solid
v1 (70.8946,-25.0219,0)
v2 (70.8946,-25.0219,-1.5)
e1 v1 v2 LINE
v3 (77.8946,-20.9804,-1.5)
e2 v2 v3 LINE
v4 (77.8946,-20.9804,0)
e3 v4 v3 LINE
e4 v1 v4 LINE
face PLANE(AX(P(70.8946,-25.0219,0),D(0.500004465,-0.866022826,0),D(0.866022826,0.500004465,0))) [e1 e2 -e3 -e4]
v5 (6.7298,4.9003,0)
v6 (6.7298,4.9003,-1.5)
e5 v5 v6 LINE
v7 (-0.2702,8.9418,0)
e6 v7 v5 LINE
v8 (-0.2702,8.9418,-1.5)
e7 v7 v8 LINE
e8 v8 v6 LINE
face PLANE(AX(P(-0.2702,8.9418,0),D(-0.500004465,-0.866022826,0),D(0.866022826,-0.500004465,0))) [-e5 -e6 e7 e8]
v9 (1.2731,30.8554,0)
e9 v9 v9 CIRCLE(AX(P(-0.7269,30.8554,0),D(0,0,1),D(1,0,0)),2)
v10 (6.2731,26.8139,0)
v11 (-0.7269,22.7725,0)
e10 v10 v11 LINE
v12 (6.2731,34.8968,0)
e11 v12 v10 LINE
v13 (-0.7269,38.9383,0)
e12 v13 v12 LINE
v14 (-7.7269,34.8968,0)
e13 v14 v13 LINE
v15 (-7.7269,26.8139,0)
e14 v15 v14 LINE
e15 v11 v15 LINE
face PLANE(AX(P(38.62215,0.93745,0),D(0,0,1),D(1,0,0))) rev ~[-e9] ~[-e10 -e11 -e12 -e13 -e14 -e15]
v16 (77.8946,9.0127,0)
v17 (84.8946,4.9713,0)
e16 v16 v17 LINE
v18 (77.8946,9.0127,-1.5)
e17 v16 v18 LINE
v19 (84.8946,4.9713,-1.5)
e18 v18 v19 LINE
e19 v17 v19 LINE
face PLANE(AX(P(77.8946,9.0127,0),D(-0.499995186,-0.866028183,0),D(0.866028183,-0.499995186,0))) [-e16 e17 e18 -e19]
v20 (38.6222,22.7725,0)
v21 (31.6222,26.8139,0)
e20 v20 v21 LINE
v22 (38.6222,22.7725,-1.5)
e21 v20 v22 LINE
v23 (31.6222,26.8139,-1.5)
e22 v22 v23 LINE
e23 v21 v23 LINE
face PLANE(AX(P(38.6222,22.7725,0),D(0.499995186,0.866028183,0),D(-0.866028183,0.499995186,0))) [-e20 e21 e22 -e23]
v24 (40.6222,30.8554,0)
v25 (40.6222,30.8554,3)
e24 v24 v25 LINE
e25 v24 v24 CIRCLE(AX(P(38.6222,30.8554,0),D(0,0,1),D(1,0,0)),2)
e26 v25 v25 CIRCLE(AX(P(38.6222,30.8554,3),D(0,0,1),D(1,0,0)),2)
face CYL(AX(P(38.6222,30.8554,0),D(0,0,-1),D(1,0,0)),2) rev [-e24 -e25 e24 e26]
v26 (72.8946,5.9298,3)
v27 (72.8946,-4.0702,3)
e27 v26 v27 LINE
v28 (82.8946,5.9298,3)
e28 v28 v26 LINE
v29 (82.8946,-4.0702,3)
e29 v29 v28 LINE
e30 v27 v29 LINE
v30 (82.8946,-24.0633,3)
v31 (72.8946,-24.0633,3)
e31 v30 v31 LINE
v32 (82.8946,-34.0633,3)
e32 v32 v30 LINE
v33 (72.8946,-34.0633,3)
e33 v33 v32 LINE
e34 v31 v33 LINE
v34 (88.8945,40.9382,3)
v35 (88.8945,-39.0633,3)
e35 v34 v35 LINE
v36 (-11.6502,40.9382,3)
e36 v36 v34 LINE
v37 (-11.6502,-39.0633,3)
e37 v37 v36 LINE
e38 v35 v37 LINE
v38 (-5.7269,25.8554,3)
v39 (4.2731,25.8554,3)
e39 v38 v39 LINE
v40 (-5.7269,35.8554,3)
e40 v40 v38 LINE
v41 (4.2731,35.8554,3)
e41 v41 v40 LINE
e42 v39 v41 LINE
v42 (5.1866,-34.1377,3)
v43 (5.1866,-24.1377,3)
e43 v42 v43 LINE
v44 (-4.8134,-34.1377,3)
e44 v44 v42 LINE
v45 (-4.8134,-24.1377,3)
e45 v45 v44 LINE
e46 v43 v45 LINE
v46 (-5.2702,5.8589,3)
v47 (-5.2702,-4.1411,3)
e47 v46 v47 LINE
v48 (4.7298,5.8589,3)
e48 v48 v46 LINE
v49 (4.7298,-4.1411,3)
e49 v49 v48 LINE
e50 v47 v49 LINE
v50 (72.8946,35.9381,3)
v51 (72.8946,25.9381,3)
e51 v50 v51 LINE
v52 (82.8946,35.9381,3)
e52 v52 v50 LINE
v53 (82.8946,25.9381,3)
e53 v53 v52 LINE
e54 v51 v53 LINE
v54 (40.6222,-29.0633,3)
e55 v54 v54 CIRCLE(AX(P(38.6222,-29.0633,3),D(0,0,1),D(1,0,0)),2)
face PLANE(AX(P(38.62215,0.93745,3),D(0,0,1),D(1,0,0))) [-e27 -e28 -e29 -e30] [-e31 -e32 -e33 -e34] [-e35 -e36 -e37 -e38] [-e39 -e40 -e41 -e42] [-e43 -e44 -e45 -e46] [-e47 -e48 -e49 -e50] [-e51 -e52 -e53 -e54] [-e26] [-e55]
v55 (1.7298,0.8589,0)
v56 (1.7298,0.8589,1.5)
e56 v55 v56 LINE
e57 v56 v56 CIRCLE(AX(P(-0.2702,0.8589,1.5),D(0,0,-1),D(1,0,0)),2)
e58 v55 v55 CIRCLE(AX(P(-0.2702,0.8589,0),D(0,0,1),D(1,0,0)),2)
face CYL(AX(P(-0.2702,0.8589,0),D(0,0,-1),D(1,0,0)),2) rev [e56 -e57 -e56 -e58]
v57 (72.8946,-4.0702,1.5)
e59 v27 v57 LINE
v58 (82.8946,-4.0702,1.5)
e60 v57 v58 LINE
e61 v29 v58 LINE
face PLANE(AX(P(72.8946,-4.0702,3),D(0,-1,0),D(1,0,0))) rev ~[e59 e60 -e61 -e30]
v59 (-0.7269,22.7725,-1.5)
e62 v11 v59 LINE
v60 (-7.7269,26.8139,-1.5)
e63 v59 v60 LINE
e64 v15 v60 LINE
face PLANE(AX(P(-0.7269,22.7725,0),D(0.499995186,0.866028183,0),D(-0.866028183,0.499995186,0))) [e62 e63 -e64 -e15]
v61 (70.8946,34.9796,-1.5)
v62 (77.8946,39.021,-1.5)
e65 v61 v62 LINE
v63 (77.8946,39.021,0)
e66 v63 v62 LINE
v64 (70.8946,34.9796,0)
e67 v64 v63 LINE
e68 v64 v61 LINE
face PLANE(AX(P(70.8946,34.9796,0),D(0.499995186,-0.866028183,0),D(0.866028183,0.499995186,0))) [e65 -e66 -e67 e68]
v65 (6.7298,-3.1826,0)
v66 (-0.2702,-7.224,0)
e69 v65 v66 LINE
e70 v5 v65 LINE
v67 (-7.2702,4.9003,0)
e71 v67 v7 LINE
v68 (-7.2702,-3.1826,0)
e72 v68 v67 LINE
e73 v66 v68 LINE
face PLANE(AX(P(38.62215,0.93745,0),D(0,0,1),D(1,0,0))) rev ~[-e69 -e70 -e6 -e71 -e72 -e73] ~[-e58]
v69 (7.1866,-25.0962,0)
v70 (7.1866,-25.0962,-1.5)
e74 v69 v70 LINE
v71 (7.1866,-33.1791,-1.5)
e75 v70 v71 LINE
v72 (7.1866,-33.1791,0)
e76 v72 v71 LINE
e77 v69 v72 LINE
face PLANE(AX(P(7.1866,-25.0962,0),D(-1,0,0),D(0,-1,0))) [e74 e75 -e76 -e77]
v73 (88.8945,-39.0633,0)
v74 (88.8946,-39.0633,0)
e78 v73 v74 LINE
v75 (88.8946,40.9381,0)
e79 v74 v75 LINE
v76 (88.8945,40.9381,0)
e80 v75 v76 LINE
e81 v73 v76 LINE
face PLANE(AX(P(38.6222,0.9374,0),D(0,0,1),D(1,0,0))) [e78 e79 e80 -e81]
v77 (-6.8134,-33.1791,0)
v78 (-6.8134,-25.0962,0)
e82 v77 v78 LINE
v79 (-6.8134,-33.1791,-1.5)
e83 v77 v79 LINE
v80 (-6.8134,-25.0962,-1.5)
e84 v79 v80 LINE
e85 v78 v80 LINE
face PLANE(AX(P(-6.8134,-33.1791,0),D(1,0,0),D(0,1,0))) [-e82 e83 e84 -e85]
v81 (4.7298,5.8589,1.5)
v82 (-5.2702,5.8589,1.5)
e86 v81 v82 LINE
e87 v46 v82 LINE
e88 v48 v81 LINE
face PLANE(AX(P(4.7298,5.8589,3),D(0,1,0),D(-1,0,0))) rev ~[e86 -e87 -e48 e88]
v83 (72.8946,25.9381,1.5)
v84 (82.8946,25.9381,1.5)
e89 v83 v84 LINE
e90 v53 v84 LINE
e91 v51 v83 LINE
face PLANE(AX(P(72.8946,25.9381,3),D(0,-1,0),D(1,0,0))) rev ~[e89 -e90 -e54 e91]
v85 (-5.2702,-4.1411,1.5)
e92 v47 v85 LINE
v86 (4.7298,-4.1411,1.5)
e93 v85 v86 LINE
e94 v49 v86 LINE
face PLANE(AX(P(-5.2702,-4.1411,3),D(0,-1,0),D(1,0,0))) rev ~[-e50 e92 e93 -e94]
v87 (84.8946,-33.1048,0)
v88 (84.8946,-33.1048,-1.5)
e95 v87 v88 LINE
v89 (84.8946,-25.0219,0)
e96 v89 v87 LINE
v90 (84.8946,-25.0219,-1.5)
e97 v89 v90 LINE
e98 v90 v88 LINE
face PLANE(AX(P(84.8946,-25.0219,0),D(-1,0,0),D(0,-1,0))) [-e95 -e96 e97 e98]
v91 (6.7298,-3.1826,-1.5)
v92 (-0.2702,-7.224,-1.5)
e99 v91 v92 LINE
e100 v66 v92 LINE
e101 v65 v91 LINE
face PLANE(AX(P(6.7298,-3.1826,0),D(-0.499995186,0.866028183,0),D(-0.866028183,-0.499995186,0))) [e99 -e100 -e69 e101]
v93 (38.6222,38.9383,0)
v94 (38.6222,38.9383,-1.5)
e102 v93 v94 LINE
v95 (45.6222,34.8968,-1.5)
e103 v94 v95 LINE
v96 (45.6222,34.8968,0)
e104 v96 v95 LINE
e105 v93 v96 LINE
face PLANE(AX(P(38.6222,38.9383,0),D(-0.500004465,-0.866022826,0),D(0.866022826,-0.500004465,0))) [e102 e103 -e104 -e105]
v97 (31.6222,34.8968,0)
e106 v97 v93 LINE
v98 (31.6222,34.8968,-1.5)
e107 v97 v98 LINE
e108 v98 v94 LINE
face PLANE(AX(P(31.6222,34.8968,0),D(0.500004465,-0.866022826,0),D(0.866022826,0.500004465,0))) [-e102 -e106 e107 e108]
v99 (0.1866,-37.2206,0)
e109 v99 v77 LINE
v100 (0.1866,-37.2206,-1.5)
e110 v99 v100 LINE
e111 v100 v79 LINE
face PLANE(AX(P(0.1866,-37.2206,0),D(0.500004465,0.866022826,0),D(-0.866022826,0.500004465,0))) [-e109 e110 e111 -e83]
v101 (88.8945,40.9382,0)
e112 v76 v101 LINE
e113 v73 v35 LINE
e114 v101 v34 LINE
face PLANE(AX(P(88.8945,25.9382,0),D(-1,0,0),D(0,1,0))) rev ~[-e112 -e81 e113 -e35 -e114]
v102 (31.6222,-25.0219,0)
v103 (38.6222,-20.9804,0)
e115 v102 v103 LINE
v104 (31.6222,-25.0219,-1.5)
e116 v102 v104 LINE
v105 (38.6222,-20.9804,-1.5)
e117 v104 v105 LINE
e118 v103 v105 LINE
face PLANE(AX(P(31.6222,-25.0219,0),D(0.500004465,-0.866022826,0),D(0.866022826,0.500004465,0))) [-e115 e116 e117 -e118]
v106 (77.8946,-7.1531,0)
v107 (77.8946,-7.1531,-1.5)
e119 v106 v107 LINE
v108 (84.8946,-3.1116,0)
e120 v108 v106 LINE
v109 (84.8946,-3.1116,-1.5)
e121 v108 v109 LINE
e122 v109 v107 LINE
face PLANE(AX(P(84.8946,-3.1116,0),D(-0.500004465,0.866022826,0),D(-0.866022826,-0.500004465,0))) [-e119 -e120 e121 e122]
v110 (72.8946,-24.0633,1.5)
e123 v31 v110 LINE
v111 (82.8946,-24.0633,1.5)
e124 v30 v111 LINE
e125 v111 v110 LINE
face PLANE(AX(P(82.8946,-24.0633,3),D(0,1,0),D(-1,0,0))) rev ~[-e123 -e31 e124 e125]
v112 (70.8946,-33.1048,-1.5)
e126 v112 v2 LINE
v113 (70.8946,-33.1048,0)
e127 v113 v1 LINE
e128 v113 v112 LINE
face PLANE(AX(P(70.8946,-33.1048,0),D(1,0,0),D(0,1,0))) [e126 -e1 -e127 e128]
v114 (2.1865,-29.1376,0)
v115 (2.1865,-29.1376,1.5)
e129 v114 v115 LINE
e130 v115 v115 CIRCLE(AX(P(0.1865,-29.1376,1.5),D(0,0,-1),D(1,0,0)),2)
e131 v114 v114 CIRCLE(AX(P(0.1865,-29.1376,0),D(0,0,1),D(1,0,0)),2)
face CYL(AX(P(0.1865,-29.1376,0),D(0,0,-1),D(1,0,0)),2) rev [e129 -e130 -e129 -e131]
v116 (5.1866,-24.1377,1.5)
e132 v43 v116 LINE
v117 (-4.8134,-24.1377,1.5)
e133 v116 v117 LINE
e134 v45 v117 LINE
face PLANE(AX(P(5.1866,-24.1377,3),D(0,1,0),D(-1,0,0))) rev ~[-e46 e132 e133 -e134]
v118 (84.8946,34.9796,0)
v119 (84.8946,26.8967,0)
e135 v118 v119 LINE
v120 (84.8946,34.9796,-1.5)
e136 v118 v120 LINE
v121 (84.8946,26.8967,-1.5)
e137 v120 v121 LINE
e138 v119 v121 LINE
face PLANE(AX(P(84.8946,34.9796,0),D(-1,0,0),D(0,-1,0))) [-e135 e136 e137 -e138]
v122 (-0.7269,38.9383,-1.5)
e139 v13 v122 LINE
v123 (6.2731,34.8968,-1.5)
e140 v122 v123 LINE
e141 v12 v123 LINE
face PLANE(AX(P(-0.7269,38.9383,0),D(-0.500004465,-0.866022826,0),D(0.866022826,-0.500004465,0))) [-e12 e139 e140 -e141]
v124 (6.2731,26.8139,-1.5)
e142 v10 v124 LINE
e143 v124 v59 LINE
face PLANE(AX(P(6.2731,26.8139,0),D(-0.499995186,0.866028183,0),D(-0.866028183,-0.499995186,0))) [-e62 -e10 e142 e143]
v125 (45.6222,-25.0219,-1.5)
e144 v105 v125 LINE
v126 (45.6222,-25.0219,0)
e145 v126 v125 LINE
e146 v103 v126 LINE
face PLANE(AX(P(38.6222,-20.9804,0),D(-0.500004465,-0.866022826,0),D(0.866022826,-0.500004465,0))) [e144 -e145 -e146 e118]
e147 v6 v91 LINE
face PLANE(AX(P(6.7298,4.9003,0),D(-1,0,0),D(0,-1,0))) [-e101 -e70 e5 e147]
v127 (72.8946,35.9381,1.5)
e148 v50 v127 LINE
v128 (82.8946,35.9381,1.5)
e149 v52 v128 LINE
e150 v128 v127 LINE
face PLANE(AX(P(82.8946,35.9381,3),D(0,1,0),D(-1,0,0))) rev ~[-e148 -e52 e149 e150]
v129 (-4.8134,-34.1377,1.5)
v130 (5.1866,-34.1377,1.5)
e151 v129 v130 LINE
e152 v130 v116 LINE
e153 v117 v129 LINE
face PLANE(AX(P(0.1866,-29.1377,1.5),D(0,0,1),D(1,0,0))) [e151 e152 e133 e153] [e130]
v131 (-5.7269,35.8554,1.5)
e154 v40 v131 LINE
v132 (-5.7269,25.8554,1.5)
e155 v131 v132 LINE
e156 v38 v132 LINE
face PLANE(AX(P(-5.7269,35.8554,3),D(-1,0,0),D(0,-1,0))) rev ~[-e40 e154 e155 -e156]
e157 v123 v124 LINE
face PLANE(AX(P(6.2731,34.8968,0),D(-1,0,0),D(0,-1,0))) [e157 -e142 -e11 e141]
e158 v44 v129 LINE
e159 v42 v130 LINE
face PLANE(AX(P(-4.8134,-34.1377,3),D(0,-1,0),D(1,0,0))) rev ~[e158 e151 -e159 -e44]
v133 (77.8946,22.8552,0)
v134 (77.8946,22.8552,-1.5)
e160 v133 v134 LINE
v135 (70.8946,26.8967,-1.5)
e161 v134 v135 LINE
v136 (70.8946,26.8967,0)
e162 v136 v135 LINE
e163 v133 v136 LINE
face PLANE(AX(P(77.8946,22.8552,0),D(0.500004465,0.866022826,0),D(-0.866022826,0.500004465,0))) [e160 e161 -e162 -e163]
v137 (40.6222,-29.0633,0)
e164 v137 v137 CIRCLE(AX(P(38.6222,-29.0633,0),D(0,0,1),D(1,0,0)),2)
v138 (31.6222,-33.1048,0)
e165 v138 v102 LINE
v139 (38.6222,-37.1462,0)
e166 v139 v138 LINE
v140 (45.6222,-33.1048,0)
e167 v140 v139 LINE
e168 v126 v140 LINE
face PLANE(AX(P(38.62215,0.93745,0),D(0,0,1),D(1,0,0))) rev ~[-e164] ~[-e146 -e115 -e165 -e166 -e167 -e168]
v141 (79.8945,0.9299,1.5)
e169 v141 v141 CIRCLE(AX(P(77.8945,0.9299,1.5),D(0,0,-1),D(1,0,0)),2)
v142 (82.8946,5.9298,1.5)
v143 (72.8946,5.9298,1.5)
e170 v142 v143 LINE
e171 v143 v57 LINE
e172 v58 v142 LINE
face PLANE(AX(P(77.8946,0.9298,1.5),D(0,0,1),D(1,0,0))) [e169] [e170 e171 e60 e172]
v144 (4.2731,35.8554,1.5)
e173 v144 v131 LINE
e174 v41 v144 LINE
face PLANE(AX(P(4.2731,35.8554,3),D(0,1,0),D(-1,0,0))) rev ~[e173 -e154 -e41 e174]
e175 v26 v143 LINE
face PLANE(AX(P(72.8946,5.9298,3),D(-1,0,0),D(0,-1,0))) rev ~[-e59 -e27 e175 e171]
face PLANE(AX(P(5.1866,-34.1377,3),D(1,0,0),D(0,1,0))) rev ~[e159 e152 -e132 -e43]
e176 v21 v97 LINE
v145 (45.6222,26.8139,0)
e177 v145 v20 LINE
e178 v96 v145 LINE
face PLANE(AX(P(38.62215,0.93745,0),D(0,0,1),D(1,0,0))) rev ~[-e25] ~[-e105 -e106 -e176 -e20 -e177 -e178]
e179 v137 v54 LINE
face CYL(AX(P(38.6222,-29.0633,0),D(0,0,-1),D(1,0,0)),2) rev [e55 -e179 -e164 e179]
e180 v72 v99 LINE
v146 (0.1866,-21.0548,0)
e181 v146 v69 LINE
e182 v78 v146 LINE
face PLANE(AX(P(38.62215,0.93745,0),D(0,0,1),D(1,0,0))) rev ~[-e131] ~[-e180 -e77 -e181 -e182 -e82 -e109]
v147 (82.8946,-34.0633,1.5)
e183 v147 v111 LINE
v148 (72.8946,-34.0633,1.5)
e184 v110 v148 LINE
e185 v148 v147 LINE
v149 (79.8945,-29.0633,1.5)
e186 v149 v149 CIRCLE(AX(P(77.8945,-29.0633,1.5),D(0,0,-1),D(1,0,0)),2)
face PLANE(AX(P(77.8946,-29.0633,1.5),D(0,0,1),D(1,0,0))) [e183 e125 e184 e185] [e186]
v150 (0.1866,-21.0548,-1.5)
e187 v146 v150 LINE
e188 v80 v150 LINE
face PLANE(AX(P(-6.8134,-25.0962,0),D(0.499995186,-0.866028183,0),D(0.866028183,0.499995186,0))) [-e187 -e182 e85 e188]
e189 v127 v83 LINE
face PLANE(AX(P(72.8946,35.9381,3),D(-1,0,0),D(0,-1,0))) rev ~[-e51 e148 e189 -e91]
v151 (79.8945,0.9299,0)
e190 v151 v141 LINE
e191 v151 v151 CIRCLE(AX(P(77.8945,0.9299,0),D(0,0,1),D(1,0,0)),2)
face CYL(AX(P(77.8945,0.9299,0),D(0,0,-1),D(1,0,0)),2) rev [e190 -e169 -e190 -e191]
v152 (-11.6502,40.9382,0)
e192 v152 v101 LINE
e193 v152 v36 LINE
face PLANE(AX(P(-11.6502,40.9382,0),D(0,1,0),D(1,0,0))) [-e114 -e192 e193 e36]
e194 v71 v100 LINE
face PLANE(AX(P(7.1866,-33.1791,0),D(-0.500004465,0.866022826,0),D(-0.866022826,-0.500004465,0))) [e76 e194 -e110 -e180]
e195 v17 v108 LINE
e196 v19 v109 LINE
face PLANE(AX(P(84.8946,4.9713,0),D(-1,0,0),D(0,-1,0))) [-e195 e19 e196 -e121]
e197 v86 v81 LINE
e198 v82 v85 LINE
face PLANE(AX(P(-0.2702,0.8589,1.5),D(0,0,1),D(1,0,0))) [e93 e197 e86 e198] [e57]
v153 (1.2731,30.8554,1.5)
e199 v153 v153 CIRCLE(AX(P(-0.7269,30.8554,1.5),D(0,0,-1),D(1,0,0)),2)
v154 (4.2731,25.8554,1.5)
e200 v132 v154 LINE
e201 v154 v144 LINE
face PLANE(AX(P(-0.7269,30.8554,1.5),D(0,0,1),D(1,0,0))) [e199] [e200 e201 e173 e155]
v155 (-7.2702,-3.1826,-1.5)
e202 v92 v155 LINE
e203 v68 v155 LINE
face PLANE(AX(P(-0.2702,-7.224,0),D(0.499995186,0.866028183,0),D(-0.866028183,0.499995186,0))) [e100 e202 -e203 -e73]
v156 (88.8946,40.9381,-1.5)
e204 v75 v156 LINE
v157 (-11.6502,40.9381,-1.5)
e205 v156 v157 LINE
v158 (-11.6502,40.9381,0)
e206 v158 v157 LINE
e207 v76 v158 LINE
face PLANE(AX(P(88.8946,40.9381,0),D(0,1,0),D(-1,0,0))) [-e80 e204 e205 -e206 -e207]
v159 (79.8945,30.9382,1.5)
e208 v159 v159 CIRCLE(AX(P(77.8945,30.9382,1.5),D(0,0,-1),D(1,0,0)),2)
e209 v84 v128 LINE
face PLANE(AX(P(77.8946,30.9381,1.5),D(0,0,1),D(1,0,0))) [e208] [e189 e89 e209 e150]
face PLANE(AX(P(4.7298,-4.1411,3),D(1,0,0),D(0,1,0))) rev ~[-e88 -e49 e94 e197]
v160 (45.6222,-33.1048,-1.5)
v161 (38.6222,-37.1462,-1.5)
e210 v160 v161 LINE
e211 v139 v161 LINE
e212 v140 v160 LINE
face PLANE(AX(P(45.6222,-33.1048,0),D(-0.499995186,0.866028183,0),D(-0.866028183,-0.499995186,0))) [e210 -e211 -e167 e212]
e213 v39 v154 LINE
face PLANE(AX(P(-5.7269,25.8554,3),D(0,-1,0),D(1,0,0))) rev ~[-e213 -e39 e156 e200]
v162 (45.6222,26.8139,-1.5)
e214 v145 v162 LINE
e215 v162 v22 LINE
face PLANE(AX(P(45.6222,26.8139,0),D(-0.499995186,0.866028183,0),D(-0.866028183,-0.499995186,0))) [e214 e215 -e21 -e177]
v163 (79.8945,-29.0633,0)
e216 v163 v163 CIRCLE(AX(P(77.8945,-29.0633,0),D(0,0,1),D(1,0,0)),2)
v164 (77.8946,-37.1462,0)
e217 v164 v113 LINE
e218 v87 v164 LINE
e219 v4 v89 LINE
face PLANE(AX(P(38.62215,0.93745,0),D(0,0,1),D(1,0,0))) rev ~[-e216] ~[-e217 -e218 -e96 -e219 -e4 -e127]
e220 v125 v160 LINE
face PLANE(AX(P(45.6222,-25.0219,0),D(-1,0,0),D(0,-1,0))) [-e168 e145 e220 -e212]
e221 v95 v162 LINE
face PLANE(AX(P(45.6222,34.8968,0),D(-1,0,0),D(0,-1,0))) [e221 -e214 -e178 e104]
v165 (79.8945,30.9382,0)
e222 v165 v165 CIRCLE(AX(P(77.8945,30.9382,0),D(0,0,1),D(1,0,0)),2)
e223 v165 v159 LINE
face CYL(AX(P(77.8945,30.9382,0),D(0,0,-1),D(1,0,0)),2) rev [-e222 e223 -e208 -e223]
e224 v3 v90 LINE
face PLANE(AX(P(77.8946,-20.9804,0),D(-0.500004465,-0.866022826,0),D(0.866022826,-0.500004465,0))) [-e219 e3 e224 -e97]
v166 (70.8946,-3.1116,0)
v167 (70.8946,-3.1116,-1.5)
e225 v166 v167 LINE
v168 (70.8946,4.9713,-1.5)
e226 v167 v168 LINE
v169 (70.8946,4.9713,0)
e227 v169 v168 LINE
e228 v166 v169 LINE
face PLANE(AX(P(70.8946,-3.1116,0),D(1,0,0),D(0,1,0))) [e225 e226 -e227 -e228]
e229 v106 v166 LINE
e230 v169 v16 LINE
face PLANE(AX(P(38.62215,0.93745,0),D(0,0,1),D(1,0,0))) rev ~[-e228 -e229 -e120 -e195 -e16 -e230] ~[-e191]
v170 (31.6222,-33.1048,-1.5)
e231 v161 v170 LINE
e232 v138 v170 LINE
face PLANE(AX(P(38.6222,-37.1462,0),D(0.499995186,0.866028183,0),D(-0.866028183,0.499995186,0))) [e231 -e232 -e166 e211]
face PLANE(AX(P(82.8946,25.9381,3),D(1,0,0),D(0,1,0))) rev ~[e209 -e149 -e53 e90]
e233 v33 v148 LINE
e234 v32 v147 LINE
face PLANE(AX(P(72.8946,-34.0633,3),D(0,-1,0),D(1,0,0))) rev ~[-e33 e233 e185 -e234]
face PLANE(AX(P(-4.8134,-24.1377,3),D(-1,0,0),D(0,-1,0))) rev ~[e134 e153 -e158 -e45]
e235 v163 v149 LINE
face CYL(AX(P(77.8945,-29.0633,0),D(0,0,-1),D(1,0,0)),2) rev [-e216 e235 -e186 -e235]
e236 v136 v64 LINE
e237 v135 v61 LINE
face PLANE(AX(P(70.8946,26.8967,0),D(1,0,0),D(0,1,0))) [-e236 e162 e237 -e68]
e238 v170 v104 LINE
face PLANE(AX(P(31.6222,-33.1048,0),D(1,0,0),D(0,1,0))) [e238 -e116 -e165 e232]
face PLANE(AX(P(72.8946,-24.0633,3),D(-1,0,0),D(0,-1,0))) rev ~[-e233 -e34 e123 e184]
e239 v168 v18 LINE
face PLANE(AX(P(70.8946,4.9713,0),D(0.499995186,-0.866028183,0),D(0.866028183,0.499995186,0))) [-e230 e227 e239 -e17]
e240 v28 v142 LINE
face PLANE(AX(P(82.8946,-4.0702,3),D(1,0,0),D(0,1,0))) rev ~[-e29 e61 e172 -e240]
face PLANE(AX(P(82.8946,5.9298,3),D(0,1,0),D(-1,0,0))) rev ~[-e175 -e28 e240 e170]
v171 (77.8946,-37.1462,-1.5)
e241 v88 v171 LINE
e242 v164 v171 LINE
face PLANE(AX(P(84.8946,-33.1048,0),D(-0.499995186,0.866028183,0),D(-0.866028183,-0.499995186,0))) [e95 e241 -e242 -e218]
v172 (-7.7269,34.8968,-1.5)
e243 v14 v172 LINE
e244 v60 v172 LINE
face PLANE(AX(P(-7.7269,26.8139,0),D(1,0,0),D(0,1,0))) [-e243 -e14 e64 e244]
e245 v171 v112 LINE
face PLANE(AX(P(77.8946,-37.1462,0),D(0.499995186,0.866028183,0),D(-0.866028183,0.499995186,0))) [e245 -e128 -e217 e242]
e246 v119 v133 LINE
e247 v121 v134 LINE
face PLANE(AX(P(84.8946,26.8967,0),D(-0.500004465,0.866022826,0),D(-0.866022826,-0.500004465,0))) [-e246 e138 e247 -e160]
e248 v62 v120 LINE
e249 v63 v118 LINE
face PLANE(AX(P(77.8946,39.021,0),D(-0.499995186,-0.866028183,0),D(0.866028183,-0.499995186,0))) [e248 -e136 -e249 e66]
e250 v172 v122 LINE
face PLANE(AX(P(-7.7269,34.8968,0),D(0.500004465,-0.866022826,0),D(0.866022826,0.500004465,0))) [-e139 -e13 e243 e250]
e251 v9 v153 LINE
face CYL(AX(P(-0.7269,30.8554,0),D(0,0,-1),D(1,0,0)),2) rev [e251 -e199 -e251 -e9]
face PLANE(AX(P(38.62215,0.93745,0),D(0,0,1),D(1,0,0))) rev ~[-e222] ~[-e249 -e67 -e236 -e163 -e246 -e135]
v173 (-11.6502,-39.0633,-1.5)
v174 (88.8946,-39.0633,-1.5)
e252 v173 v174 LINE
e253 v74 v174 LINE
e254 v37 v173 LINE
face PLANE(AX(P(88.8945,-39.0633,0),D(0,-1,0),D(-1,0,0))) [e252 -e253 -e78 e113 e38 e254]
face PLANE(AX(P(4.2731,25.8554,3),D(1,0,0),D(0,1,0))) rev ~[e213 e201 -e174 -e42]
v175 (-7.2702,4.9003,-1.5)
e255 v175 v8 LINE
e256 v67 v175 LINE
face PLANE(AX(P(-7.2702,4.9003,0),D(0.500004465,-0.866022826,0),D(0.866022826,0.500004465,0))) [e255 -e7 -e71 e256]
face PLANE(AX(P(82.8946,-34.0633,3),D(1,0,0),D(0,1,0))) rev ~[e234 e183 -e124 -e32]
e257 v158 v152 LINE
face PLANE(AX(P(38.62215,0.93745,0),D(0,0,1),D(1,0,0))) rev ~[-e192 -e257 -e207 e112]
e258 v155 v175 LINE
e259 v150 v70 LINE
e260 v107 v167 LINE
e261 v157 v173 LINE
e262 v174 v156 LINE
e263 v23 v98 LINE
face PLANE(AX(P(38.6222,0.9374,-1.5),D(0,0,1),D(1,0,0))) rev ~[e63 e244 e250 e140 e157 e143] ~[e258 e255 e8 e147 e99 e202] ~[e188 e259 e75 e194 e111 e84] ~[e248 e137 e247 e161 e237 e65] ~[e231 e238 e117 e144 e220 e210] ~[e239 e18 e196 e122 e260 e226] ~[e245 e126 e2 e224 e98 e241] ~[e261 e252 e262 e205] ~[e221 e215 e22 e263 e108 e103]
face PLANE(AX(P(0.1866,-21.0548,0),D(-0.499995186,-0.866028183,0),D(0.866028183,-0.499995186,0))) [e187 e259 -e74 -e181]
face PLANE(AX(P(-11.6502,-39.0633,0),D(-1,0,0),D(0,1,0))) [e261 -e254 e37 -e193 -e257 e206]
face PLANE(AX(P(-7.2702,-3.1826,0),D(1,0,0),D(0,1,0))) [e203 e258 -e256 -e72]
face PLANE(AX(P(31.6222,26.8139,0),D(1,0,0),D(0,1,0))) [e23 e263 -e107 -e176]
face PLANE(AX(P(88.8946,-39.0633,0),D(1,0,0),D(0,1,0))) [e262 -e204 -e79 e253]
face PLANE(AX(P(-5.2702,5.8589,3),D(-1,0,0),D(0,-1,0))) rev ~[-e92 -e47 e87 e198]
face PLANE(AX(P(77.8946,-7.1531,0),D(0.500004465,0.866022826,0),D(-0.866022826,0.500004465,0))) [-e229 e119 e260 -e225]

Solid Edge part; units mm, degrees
sketch "Sketch1" plane through (0, 0, 0) normal (0, 0, 1) x (1, 0, 0)
  line L0 (88.8945, 25.9382) -> (88.8945, 40.9382)
  line L1 (-11.6502, 40.9382) -> (88.8945, 40.9382)
  line L2 (-11.6502, -39.0633) -> (-11.6502, 40.9382)
  line L3 (88.8945, -39.0633) -> (-11.6502, -39.0633)
  line L4 (88.8945, -39.0633) -> (88.8945, -24.0633)
  line L5 (88.8945, 25.9382) -> (88.8945, -24.0633)
  circle A0 centre (38.6222, 30.8554) radius 2
  circle A1 centre (38.6222, -29.0633) radius 2
  circle A2 centre (-0.7269, 30.8554) radius 2
  circle A3 centre (-0.2702, 0.8589) radius 2
  circle A4 centre (0.1865, -29.1376) radius 2
  circle A5 centre (77.8945, -29.0633) radius 2
  circle A6 centre (77.8945, 0.9299) radius 2
  circle A7 centre (77.8945, 30.9382) radius 2
  dimension "D1" = 6
  dimension "D2" = 6
extrude "Protrusion1" add sketch "Sketch1" along normal blind 3
sketch "Sketch2" plane through (38.6222, 0.9374, 3) normal (0, 0, 1) x (1, 0, 0)
  line L0 (-44.3491, 24.918) -> (-34.3491, 24.918)
  line L1 (-34.3491, 24.918) -> (-34.3491, 34.918)
  line L2 (-34.3491, 34.918) -> (-44.3491, 34.918)
  line L3 (-44.3491, 34.918) -> (-44.3491, 24.918)
  line L4 (34.2724, 25.0007) -> (44.2724, 25.0007)
  line L5 (44.2724, 25.0007) -> (44.2724, 35.0007)
  line L6 (44.2724, 35.0007) -> (34.2724, 35.0007)
  line L7 (34.2724, 35.0007) -> (34.2724, 25.0007)
  line L8 (34.2724, -5.0076) -> (44.2724, -5.0076)
  line L9 (44.2724, -5.0076) -> (44.2724, 4.9924)
  line L10 (44.2724, 4.9924) -> (34.2724, 4.9924)
  line L11 (34.2724, 4.9924) -> (34.2724, -5.0076)
  line L12 (34.2724, -35.0007) -> (44.2724, -35.0007)
  line L13 (44.2724, -35.0007) -> (44.2724, -25.0007)
  line L14 (44.2724, -25.0007) -> (34.2724, -25.0007)
  line L15 (34.2724, -25.0007) -> (34.2724, -35.0007)
  line L16 (-43.4356, -35.0751) -> (-33.4356, -35.0751)
  line L17 (-33.4356, -35.0751) -> (-33.4356, -25.0751)
  line L18 (-33.4356, -25.0751) -> (-43.4356, -25.0751)
  line L19 (-43.4356, -25.0751) -> (-43.4356, -35.0751)
  line L20 (-43.8924, -5.0785) -> (-33.8924, -5.0785)
  line L21 (-33.8924, -5.0785) -> (-33.8924, 4.9215)
  line L22 (-33.8924, 4.9215) -> (-43.8924, 4.9215)
  line L23 (-43.8924, 4.9215) -> (-43.8924, -5.0785)
extrude "ExtrudedCutout_1" cut sketch "Sketch2" against normal blind 1.5
sketch "Sketch3" plane through (38.6222, 0.9374, 0) normal (0, 0, -1) x (1, 0, 0)
  line L0 (-45.4356, 26.0336) -> (-38.4356, 21.9922)
  line L1 (-38.4356, 21.9922) -> (-31.4356, 26.0336)
  line L2 (-31.4356, 26.0336) -> (-31.4356, 34.1165)
  line L3 (-31.4356, 34.1165) -> (-38.4356, 38.158)
  line L4 (-38.4356, 38.158) -> (-45.4356, 34.1165)
  line L5 (-45.4356, 34.1165) -> (-45.4356, 26.0336)
  line L6 (-45.8924, -3.9629) -> (-38.8924, -8.0044)
  line L7 (-38.8924, -8.0044) -> (-31.8924, -3.9629)
  line L8 (-31.8924, -3.9629) -> (-31.8924, 4.12)
  line L9 (-31.8924, 4.12) -> (-38.8924, 8.1614)
  line L10 (-38.8924, 8.1614) -> (-45.8924, 4.12)
  line L11 (-45.8924, 4.12) -> (-45.8924, -3.9629)
  line L12 (-32.3491, -25.8765) -> (-39.3491, -21.8351)
  line L13 (-39.3491, -21.8351) -> (-46.3491, -25.8765)
  line L14 (-46.3491, -25.8765) -> (-46.3491, -33.9594)
  line L15 (-46.3491, -33.9594) -> (-39.3491, -38.0009)
  line L16 (-39.3491, -38.0009) -> (-32.3491, -33.9594)
  line L17 (-32.3491, -33.9594) -> (-32.3491, -25.8765)
  line L18 (7, -25.8765) -> (0, -21.8351)
  line L19 (0, -21.8351) -> (-7, -25.8765)
  line L20 (-7, -25.8765) -> (-7, -33.9594)
  line L21 (-7, -33.9594) -> (0, -38.0009)
  line L22 (0, -38.0009) -> (7, -33.9594)
  line L23 (7, -33.9594) -> (7, -25.8765)
  line L24 (7, 34.0422) -> (0, 38.0836)
  line L25 (0, 38.0836) -> (-7, 34.0422)
  line L26 (-7, 34.0422) -> (-7, 25.9593)
  line L27 (-7, 25.9593) -> (0, 21.9178)
  line L28 (0, 21.9178) -> (7, 25.9593)
  line L29 (7, 25.9593) -> (7, 34.0422)
  line L30 (46.2724, 4.049) -> (39.2724, 8.0905)
  line L31 (39.2724, 8.0905) -> (32.2724, 4.049)
  line L32 (32.2724, 4.049) -> (32.2724, -4.0339)
  line L33 (32.2724, -4.0339) -> (39.2724, -8.0753)
  line L34 (39.2724, -8.0753) -> (46.2724, -4.0339)
  line L35 (46.2724, -4.0339) -> (46.2724, 4.049)
  line L36 (46.2724, 34.0422) -> (39.2724, 38.0836)
  line L37 (39.2724, 38.0836) -> (32.2724, 34.0422)
  line L38 (32.2724, 34.0422) -> (32.2724, 25.9593)
  line L39 (32.2724, 25.9593) -> (39.2724, 21.9178)
  line L40 (39.2724, 21.9178) -> (46.2724, 25.9593)
  line L41 (46.2724, 25.9593) -> (46.2724, 34.0422)
  line L42 (46.2724, -25.9593) -> (39.2724, -21.9178)
  line L43 (39.2724, -21.9178) -> (32.2724, -25.9593)
  line L44 (32.2724, -25.9593) -> (32.2724, -34.0422)
  line L45 (32.2724, -34.0422) -> (39.2724, -38.0836)
  line L46 (39.2724, -38.0836) -> (46.2724, -34.0422)
  line L47 (46.2724, -34.0422) -> (46.2724, -25.9593)
  line L48 (-50.2724, 40.0007) -> (50.2724, 40.0007)
  line L49 (50.2724, 40.0007) -> (50.2724, -40.0007)
  line L50 (50.2724, -40.0007) -> (-50.2724, -40.0007)
  line L51 (-50.2724, -40.0007) -> (-50.2724, 40.0007)
extrude "ExtrudedProtrusion_2" add sketch "Sketch3" along normal blind 1.5
